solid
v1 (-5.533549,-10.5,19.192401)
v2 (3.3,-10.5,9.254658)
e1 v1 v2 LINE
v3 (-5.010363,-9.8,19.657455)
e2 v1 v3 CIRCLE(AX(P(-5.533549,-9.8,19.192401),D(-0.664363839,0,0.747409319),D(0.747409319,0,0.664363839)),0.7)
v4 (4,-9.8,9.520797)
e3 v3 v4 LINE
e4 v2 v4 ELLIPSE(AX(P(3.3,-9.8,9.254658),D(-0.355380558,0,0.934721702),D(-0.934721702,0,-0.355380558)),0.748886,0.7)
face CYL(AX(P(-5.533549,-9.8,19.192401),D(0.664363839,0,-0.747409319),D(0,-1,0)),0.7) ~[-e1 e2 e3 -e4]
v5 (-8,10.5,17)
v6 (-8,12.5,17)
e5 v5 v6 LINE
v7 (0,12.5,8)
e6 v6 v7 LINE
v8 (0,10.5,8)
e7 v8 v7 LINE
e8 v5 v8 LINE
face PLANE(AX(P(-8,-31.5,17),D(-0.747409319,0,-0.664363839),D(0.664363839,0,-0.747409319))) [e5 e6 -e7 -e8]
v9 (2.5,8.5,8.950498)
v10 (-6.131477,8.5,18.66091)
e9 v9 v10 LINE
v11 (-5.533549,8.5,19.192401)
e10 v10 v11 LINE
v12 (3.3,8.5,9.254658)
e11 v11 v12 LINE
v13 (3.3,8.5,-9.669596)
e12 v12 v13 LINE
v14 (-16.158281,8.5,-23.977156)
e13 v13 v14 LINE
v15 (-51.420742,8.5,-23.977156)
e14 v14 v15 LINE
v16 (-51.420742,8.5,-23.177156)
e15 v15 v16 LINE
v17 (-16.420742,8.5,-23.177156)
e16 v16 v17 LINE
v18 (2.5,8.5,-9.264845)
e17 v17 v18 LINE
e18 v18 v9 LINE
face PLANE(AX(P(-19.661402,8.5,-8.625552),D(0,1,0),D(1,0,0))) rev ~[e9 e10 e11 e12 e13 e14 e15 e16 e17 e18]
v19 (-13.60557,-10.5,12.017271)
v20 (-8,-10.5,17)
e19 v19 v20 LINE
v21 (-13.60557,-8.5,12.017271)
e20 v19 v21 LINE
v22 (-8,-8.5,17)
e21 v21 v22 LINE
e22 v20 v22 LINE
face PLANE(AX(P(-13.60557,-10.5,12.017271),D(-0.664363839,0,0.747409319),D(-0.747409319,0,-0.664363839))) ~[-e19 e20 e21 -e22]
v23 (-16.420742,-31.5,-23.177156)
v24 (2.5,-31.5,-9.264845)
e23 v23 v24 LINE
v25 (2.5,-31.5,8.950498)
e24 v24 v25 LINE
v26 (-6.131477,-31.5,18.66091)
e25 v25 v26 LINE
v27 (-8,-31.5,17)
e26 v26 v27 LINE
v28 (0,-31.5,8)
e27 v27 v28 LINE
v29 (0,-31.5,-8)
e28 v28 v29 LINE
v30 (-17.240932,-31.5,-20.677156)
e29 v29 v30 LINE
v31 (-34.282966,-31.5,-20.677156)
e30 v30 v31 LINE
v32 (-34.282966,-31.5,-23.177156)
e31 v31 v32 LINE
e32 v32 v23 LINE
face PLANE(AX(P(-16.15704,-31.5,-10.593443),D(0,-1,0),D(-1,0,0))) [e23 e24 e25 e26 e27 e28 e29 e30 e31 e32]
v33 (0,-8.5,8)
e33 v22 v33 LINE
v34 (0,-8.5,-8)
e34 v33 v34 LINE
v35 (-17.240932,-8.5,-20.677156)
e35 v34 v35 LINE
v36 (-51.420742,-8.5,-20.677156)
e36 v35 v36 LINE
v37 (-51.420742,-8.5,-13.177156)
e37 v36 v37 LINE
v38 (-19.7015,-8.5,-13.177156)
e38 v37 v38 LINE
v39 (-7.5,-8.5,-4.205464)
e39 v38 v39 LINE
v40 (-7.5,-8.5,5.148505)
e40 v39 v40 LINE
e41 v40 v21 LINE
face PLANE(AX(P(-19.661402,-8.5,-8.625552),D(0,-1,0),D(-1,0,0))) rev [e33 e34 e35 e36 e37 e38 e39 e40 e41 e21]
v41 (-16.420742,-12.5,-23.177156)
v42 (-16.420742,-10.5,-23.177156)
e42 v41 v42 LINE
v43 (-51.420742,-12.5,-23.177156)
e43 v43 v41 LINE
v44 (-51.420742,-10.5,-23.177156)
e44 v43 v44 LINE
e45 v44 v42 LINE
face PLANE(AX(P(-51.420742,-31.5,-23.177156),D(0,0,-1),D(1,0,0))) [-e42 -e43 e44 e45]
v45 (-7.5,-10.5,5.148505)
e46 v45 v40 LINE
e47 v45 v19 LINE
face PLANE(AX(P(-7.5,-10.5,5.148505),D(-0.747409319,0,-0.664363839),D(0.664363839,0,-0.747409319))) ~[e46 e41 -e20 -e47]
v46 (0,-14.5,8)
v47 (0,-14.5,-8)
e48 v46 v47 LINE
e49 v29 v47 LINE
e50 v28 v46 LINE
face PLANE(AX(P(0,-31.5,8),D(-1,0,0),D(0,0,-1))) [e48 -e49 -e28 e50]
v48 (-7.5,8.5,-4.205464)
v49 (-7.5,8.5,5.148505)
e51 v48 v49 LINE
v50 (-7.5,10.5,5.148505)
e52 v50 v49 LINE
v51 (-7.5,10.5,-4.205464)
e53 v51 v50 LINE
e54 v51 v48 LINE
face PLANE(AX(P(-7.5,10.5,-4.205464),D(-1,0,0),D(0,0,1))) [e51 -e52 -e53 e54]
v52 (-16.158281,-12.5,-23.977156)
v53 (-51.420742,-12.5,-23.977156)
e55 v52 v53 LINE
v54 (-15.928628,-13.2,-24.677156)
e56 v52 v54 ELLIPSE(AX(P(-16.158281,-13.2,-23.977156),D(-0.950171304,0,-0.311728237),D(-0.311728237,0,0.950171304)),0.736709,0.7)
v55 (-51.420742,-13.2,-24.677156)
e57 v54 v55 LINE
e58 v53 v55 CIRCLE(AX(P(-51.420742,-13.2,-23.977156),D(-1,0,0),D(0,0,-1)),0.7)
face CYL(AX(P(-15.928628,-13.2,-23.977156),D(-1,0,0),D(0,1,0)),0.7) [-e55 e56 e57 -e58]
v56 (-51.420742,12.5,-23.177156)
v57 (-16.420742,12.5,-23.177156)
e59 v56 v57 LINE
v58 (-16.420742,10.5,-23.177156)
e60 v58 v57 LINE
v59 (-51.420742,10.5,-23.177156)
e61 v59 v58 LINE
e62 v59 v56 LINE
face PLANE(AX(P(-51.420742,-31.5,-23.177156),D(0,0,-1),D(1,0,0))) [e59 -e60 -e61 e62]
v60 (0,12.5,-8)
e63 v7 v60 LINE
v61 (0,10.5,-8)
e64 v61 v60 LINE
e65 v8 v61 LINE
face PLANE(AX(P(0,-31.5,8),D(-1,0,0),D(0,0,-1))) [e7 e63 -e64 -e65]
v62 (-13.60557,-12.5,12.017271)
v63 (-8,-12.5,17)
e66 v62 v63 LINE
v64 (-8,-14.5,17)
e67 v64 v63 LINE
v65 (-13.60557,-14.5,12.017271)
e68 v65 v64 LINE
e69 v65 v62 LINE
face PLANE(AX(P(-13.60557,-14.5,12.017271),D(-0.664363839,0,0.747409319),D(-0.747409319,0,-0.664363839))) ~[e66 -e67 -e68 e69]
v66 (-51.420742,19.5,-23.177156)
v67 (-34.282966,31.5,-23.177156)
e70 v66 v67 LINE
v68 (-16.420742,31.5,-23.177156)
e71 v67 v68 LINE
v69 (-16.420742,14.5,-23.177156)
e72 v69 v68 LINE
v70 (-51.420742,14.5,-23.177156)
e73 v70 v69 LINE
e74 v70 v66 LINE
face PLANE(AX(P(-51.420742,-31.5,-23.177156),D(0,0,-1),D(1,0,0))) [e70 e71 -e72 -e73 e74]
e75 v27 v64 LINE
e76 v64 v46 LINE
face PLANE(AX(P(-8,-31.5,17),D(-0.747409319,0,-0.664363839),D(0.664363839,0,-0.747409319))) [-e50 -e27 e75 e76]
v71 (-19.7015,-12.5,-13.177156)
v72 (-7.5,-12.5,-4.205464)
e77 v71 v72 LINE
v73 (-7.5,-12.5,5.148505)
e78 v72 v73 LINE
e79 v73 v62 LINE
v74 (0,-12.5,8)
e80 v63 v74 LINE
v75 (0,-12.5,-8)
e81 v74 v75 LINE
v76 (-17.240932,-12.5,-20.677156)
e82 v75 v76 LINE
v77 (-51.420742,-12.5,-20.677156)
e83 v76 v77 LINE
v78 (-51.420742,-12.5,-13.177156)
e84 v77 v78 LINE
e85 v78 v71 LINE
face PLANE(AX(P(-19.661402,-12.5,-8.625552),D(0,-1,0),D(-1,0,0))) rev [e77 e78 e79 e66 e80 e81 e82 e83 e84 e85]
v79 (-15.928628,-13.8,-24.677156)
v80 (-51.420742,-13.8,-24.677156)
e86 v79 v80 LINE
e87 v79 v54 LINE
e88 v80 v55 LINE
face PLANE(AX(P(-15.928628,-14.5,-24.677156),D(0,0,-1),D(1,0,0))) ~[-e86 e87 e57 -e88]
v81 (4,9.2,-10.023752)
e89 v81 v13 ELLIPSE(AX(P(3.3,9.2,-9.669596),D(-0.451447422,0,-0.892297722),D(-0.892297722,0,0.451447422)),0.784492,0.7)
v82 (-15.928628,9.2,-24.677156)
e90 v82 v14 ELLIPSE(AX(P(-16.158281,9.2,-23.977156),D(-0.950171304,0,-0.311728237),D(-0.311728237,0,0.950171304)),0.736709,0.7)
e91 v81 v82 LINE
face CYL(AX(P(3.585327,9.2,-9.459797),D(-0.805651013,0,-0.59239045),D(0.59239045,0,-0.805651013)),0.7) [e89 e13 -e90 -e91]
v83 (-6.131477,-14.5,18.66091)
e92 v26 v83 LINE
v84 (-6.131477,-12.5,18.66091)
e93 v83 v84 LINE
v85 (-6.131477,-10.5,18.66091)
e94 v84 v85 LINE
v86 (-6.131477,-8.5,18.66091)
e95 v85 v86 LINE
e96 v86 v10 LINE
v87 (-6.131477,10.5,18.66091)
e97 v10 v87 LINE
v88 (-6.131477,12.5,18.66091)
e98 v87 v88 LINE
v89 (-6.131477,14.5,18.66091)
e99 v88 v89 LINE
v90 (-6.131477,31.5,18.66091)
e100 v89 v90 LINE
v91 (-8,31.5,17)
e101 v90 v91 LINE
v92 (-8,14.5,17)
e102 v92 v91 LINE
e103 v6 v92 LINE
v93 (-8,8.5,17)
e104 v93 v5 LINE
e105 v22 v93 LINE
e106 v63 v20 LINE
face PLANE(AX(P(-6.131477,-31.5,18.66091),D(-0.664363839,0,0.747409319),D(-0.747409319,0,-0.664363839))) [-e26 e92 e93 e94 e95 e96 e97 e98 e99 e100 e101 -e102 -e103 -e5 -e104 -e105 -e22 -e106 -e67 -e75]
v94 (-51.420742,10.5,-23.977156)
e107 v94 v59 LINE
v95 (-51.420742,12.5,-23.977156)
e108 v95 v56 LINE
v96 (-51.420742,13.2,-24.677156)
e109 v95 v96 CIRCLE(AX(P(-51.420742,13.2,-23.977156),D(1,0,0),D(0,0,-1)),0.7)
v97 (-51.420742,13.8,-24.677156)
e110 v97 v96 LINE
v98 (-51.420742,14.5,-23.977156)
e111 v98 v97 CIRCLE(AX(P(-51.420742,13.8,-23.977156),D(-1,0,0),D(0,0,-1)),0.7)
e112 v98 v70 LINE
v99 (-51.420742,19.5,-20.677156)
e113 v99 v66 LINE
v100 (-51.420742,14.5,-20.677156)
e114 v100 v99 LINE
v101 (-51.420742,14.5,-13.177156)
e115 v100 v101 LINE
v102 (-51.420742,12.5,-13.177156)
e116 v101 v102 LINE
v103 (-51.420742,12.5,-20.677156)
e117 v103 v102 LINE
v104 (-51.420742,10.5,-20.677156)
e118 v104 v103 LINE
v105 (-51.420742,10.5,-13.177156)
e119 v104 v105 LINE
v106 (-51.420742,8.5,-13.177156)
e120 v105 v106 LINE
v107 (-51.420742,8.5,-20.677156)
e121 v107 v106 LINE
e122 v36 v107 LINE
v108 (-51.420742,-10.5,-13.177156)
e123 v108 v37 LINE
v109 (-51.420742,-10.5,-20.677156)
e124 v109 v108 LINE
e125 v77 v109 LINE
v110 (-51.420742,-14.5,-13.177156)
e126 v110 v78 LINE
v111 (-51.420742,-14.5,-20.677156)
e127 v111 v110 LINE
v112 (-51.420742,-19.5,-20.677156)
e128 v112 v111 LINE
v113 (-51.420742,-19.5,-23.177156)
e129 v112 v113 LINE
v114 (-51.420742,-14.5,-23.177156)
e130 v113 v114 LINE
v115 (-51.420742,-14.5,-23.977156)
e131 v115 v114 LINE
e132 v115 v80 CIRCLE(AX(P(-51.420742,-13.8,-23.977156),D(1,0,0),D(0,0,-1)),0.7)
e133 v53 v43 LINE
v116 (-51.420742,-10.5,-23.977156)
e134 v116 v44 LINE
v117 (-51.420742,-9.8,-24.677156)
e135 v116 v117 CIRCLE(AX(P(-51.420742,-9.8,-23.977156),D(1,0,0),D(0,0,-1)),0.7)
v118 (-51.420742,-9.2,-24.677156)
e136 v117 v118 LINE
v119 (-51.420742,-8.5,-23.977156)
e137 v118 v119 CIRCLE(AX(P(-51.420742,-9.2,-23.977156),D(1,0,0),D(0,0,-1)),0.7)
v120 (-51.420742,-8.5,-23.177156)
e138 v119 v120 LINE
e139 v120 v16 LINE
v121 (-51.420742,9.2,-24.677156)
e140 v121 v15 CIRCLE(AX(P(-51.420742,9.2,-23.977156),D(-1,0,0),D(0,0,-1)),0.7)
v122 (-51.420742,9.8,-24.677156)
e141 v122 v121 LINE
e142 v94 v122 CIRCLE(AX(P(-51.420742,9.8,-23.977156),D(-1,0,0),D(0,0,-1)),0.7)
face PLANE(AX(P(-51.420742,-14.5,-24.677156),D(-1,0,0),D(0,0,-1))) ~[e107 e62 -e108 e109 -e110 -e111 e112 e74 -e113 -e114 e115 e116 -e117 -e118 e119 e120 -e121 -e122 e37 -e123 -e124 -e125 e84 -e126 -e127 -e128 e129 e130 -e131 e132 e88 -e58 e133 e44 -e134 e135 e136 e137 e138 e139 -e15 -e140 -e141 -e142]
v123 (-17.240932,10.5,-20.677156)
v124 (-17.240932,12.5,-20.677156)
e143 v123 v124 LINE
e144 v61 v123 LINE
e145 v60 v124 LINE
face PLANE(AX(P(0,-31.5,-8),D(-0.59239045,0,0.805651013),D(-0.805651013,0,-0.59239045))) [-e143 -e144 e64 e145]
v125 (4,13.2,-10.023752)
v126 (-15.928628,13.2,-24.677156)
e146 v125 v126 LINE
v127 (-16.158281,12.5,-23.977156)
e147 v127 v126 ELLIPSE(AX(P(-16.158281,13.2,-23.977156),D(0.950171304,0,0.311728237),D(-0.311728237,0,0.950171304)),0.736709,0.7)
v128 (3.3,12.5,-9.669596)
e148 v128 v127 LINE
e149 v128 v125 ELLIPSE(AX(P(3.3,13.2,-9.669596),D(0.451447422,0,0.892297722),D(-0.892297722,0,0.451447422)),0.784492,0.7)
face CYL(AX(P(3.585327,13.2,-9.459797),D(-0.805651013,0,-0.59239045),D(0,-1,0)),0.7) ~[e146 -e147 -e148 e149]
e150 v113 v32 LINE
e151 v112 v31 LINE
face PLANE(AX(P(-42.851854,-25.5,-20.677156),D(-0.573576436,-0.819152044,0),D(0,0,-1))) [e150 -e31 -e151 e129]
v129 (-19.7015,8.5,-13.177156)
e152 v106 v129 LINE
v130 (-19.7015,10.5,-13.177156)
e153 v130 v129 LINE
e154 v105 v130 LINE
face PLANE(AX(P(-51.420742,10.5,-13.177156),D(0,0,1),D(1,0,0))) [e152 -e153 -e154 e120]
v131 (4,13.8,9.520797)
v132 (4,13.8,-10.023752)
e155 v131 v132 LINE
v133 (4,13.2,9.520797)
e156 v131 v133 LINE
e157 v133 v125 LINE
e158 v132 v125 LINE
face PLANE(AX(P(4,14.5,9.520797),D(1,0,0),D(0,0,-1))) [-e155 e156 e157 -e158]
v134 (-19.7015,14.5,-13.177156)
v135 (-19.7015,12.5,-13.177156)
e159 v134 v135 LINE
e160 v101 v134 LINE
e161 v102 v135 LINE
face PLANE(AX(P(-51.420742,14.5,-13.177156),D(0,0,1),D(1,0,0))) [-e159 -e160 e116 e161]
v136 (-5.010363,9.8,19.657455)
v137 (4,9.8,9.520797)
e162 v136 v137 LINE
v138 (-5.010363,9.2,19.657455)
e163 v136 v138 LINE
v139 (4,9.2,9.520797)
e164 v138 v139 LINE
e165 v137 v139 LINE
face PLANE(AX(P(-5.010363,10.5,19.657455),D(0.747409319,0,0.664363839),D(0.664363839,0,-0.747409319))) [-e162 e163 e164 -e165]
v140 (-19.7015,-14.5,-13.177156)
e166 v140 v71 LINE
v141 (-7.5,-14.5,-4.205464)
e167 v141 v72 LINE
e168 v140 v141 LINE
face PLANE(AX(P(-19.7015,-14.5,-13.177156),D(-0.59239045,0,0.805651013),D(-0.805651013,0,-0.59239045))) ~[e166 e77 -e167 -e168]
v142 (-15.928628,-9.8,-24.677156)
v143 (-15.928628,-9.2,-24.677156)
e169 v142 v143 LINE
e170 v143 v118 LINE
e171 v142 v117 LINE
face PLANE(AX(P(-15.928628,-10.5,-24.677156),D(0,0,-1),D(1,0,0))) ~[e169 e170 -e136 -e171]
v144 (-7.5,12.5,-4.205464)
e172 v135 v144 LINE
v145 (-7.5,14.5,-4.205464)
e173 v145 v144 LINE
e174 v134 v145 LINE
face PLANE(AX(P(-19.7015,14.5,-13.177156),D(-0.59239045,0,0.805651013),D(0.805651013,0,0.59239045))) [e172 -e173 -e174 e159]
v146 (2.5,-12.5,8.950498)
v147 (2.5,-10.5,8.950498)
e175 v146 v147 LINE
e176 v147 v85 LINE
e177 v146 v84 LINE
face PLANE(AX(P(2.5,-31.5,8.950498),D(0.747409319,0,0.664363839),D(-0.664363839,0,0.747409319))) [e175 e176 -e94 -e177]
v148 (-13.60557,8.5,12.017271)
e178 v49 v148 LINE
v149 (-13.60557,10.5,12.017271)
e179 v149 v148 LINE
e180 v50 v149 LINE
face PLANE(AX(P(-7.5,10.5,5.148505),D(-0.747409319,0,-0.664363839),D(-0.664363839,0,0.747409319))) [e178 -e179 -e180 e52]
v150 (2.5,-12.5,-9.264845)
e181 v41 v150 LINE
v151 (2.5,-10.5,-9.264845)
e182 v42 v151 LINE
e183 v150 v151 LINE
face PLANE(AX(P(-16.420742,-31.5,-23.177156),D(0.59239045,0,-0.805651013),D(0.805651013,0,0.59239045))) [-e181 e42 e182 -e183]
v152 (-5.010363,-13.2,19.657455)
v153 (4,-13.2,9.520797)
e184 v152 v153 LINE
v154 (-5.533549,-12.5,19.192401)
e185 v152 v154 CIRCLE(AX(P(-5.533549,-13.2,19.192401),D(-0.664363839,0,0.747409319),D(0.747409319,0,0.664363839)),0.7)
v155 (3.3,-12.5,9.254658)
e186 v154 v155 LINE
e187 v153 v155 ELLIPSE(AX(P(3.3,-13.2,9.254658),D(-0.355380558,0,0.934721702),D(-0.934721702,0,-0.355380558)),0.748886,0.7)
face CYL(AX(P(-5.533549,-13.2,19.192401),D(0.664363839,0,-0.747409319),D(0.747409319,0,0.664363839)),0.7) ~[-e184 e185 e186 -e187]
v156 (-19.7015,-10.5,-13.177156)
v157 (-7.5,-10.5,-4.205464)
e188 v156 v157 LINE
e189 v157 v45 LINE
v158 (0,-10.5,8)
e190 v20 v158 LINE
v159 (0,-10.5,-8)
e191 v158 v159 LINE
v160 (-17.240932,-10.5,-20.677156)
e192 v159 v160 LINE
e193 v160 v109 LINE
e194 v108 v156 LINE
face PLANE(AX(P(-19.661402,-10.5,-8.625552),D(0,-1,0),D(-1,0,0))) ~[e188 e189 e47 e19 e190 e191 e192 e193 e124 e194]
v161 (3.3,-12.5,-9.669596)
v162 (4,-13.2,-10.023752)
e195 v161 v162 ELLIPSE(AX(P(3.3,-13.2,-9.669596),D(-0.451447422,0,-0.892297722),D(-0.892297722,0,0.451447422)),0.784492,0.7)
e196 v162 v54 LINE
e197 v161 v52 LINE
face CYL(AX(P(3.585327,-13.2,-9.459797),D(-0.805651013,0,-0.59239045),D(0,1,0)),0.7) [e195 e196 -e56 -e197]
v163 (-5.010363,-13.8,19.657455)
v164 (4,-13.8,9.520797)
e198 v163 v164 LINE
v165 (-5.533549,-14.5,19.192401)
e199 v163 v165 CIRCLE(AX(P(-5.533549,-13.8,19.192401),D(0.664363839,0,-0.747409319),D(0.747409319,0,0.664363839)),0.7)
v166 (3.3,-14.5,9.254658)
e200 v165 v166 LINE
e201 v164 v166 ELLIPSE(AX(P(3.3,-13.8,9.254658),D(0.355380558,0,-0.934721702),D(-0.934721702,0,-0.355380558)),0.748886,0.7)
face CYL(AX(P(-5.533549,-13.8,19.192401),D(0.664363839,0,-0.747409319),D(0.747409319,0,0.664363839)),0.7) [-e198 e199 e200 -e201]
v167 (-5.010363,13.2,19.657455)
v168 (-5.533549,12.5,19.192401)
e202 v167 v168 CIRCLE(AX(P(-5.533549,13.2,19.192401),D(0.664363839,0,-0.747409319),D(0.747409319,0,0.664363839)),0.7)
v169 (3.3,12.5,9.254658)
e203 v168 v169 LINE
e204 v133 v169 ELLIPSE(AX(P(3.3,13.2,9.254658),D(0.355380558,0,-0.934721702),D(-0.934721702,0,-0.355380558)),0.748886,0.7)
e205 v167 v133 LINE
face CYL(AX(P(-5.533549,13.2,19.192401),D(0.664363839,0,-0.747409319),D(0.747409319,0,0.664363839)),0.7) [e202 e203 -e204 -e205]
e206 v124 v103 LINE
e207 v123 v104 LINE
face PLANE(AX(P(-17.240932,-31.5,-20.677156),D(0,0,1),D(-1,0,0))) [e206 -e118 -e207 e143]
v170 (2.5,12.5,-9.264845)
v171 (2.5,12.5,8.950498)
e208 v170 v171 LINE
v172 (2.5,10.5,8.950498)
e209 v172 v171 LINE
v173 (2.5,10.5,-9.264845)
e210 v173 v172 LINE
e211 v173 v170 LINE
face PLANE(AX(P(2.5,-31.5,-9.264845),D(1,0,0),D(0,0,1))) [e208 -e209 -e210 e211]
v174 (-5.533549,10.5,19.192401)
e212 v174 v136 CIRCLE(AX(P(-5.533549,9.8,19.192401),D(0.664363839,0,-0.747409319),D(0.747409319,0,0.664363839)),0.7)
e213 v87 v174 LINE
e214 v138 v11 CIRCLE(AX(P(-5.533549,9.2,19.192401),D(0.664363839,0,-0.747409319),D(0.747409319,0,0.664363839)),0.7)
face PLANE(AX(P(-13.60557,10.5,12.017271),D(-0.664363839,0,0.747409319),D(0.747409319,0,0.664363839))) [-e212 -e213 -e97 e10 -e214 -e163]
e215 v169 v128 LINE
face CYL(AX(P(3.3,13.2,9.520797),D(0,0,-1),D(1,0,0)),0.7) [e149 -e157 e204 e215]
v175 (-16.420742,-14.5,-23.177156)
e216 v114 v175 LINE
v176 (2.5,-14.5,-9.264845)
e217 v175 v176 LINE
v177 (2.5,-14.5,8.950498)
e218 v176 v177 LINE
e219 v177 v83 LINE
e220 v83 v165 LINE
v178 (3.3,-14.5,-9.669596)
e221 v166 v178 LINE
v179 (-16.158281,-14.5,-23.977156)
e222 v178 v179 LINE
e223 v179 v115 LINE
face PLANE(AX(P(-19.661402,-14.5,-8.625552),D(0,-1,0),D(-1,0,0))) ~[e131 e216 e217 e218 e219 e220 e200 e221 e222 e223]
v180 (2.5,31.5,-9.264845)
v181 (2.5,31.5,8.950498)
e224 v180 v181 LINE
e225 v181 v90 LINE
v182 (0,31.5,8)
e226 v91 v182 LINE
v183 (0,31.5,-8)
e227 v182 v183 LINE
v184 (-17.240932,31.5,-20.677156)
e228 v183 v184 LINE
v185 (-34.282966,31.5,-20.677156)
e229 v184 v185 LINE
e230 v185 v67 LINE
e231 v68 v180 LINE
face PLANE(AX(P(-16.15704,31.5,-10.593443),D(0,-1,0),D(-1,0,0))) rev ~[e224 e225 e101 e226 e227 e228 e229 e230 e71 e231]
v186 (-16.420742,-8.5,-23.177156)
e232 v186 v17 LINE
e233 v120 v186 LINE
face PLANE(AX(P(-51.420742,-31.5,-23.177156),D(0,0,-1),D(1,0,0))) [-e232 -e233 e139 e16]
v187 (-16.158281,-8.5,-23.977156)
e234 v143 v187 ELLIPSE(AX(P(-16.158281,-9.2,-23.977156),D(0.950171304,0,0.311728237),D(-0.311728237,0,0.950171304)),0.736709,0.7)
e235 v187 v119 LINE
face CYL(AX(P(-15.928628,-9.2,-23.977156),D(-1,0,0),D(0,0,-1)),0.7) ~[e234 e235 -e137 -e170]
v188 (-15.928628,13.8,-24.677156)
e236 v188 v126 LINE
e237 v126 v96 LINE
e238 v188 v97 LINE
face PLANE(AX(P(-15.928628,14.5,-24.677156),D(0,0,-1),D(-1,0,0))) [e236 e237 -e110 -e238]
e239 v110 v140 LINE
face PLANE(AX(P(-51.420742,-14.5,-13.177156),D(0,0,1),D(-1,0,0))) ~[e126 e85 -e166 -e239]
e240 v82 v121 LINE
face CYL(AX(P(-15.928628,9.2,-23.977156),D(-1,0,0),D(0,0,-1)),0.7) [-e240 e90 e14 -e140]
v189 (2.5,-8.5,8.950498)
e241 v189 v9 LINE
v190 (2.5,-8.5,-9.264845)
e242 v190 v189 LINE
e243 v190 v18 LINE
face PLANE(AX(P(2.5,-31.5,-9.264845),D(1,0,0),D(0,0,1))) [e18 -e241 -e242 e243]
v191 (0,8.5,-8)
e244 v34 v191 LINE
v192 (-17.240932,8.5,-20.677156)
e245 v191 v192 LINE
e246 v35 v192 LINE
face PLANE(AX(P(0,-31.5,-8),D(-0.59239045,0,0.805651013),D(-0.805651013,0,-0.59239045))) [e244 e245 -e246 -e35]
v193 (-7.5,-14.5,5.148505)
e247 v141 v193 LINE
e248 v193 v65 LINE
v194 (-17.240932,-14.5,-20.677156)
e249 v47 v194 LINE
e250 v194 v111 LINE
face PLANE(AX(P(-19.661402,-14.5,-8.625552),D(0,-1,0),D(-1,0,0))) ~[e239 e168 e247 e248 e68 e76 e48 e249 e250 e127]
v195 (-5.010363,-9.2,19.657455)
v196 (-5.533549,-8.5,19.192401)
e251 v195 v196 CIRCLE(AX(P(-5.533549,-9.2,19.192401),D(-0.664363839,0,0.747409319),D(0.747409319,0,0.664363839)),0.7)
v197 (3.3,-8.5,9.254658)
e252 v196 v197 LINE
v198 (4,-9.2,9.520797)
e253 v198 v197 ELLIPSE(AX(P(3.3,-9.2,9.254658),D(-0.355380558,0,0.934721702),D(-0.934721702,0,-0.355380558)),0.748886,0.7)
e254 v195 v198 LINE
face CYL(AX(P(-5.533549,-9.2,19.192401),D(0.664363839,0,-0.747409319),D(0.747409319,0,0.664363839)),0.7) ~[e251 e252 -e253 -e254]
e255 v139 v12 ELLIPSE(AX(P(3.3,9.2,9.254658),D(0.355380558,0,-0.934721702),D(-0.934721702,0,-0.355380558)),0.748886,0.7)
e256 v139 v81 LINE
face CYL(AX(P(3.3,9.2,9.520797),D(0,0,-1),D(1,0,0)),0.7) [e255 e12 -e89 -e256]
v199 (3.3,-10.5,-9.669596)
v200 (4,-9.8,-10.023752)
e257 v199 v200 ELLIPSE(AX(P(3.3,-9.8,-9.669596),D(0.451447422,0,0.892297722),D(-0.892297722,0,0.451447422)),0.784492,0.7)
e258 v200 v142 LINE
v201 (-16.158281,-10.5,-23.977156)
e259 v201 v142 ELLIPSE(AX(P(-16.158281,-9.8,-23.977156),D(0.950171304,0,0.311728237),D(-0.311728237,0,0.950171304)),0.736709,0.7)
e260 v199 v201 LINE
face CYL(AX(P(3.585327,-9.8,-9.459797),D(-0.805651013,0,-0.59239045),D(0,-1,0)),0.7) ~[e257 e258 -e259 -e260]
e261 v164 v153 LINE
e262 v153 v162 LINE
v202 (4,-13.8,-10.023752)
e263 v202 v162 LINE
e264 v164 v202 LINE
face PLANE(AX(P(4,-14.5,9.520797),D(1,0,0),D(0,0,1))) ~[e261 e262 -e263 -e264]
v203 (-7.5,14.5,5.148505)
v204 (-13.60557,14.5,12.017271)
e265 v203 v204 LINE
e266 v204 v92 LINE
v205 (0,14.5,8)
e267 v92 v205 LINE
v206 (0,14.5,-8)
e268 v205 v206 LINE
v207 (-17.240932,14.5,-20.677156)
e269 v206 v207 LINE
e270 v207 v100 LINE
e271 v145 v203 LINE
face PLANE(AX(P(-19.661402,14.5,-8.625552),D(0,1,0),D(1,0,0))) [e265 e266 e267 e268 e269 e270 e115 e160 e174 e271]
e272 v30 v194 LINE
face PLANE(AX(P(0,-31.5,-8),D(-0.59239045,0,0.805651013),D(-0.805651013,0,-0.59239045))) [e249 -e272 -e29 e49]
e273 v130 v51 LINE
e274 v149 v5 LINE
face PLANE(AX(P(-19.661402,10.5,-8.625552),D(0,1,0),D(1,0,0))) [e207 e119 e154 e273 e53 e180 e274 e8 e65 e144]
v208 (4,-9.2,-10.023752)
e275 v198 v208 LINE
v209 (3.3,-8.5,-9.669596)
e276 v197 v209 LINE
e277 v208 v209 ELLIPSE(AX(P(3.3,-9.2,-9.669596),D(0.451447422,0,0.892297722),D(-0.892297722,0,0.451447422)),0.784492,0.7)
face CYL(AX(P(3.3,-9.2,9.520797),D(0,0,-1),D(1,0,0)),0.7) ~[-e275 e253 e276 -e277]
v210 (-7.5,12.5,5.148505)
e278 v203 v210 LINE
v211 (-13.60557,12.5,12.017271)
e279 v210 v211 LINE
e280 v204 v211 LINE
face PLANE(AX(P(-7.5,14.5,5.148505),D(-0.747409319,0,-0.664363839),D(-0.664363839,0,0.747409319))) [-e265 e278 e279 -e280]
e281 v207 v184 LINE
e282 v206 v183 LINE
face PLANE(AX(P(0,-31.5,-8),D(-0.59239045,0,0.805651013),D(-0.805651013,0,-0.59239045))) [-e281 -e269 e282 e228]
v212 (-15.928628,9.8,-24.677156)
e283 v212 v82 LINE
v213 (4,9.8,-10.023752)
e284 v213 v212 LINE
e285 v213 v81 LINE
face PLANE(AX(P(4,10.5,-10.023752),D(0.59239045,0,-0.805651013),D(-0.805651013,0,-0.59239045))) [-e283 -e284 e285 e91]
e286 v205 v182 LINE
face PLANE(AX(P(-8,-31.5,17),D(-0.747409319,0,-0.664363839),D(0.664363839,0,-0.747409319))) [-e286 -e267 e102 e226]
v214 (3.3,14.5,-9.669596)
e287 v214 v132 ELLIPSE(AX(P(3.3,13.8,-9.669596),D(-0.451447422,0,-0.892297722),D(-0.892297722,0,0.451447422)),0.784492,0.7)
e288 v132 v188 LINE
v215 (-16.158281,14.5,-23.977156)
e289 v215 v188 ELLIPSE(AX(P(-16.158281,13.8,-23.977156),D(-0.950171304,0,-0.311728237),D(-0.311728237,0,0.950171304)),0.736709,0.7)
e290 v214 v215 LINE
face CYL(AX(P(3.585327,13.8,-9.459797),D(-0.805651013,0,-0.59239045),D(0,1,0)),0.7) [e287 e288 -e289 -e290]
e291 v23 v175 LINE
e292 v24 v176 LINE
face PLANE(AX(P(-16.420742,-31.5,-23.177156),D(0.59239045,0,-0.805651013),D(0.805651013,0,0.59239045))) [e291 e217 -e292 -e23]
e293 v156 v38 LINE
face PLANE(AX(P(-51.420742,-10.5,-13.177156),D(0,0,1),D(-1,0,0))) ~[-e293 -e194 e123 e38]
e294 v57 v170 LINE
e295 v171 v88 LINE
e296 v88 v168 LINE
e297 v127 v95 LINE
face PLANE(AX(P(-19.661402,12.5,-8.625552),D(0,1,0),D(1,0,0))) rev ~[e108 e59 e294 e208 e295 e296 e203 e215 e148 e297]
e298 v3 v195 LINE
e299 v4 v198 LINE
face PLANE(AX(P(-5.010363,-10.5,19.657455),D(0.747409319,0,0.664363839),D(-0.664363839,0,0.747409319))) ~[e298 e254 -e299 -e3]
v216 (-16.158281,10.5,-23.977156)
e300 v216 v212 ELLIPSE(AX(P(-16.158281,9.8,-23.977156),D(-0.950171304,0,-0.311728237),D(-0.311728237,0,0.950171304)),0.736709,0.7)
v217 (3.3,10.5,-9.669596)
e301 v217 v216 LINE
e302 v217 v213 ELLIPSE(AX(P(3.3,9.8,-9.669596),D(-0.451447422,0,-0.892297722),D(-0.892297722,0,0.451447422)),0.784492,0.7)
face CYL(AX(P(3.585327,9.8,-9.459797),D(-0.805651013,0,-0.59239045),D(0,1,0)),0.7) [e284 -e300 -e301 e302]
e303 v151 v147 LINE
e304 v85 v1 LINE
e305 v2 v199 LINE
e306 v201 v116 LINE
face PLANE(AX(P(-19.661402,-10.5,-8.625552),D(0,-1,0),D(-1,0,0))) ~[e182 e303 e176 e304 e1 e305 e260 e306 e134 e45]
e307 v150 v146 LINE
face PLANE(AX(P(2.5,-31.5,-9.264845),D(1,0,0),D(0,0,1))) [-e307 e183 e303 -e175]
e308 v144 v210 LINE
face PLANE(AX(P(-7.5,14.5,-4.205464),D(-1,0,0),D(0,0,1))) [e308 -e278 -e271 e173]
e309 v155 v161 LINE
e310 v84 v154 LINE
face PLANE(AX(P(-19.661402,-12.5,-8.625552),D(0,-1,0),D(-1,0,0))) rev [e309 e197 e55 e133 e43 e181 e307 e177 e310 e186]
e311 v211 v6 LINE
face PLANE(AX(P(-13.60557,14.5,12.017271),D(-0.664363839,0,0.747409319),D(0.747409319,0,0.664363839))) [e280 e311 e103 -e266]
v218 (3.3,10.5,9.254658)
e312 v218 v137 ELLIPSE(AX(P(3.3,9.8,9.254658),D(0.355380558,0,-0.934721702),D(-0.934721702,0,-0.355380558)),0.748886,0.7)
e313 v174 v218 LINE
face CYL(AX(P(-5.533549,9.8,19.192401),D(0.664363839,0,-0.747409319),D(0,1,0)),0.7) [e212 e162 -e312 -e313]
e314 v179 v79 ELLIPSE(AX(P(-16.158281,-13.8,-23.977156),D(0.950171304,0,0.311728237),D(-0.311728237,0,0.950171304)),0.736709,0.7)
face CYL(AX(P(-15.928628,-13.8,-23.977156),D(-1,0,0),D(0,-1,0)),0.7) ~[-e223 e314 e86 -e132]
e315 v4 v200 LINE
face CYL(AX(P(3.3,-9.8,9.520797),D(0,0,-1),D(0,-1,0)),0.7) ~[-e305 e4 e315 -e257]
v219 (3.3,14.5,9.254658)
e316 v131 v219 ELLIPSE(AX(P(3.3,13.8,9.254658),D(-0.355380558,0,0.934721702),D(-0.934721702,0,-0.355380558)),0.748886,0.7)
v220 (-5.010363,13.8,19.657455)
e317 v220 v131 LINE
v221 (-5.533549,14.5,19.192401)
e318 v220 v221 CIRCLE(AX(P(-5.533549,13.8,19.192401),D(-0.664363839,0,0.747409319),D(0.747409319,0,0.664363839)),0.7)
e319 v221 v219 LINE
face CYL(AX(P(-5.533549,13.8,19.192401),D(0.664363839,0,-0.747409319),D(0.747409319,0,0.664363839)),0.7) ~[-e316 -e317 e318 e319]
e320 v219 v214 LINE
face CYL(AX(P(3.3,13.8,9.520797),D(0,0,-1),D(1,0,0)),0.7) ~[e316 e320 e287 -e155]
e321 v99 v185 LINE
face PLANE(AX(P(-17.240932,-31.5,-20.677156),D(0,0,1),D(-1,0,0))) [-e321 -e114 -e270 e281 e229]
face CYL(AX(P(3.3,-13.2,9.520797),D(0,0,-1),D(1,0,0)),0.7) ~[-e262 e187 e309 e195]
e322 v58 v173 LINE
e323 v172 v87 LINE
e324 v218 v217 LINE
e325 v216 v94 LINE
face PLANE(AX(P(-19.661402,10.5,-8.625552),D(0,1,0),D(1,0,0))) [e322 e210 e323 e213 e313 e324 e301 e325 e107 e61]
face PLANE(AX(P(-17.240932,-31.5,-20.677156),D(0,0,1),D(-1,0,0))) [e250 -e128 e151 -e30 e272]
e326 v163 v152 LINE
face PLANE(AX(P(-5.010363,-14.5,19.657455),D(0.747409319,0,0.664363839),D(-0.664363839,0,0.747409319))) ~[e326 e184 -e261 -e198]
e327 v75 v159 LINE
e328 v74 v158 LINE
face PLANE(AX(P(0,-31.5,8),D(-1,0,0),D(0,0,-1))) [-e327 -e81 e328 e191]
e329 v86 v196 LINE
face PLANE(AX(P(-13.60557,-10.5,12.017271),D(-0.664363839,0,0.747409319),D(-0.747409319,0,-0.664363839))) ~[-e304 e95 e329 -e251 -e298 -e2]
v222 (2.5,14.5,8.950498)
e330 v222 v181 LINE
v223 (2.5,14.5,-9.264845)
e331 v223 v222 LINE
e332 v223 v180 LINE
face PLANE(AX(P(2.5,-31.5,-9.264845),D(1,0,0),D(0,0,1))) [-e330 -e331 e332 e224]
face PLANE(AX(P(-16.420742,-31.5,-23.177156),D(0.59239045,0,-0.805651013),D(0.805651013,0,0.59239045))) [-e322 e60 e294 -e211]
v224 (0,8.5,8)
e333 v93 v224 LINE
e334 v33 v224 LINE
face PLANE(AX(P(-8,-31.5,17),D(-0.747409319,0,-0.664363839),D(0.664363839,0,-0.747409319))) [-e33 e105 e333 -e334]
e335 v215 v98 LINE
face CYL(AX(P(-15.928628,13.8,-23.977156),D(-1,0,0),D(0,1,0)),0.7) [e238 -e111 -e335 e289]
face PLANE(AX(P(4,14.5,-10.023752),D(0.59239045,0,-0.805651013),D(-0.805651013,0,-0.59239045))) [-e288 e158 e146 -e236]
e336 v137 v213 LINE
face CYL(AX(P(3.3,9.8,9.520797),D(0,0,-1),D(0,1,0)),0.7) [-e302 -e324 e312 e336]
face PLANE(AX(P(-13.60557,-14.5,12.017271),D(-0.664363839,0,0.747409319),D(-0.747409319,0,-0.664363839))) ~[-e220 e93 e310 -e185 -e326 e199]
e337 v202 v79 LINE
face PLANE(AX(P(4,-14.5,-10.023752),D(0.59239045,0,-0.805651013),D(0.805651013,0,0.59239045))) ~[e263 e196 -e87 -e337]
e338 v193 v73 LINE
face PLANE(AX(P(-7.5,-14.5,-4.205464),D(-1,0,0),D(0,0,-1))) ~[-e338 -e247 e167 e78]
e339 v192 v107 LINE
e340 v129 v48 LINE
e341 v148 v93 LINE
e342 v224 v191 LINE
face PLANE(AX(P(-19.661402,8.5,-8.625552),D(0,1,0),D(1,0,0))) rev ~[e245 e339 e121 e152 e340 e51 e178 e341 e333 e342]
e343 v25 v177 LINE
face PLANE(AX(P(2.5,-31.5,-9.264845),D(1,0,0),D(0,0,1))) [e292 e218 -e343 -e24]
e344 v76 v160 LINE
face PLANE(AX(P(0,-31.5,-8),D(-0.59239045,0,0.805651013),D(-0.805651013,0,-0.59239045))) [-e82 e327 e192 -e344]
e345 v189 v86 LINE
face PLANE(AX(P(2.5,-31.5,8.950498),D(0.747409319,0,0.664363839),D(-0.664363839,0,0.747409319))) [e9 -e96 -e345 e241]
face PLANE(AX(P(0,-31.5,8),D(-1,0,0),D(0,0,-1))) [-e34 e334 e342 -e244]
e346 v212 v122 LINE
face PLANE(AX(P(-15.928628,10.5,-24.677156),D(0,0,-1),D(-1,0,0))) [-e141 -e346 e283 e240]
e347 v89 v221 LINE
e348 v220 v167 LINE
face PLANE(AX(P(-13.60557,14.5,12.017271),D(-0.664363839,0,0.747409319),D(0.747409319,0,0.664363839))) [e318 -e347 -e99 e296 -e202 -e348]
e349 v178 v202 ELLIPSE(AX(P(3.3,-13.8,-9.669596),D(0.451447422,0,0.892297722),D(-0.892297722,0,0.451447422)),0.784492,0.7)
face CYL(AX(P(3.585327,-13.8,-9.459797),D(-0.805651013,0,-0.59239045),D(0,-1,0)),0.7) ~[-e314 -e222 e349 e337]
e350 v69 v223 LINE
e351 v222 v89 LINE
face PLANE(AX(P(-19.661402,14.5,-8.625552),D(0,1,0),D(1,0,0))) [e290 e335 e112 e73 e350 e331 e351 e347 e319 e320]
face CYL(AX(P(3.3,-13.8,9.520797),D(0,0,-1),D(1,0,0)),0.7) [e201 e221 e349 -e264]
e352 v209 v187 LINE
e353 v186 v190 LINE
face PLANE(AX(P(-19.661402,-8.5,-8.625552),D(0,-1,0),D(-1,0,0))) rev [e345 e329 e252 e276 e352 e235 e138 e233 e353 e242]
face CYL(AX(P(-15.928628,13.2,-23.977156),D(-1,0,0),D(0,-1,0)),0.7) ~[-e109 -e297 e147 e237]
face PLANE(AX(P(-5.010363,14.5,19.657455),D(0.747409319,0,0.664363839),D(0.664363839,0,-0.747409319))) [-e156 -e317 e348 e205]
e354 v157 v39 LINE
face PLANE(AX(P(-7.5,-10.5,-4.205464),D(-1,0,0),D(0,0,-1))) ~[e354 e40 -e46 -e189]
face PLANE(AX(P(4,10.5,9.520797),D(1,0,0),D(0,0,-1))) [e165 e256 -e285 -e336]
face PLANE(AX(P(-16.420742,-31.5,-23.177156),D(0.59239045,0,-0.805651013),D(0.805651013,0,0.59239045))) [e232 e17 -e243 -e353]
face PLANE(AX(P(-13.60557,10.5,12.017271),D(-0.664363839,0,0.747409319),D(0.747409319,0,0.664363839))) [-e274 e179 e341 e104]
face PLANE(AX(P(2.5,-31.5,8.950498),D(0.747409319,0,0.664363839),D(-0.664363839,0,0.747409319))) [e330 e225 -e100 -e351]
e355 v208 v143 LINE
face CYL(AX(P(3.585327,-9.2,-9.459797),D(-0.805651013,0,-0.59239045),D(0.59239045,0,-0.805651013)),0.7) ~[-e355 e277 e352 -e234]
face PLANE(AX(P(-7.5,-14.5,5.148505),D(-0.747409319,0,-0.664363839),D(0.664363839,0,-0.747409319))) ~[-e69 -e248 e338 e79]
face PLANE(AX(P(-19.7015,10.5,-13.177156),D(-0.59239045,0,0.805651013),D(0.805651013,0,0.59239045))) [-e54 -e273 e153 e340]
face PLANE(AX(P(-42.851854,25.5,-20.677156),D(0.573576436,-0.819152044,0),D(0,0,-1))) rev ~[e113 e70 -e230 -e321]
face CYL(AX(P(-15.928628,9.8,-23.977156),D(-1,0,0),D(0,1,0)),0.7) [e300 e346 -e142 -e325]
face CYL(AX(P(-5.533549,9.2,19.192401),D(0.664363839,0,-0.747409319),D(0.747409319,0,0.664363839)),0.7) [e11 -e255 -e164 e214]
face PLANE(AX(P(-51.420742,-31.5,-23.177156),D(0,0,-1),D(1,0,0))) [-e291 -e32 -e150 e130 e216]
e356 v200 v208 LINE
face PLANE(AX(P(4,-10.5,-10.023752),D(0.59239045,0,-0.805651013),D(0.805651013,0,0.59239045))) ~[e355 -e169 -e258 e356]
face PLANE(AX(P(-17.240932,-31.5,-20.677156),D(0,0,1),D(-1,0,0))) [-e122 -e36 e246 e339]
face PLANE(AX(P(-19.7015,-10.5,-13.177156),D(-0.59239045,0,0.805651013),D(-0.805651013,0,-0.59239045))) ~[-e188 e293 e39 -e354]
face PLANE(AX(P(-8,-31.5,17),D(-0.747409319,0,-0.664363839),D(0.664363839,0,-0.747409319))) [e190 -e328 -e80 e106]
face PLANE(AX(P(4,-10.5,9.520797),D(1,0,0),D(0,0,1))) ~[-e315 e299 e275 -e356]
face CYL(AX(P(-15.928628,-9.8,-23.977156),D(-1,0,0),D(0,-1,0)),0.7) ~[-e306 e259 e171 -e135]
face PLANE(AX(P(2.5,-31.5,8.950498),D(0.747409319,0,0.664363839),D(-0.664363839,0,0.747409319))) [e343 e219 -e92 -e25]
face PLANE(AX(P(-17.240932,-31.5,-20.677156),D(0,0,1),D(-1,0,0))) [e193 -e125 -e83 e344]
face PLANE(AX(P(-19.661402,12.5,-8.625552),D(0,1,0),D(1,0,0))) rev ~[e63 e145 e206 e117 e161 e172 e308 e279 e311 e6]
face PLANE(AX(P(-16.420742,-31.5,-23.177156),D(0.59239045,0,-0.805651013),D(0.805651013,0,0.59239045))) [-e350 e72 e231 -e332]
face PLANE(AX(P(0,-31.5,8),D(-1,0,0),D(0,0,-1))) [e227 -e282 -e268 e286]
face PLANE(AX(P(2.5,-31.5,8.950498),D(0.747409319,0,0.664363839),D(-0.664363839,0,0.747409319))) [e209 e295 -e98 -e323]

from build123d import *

# Parameters (mm, degrees)
EXTRUDE_1_DEPTH        = 31.5
EXTRUDE_1_DEPTH_BACK   = 31.5
CHAMFER_1_SIZE         = 12
CHAMFER_1_SIZE2        = 17.137776081
EXTRUDE_1_2_DEPTH      = 2
EXTRUDE_2_DEPTH        = 2
FILLET_1_R             = 0.7
FILLET_1_OF_MIRROR_1_R = 0.7


with BuildPart() as part:
    # 草图1 → Extrude 1 (new, two sides: drawn at the far end of the back side and taken through both)
    with BuildSketch(Plane(origin=(0, 0, 0), x_dir=(1, 0, 0), z_dir=(0, 1, 0)).offset(-EXTRUDE_1_DEPTH_BACK)):
        Polygon((0, -8), (0, 8), (-17.240931671, 20.67715564), (-51.420742101, 20.67715564), (-51.420742101, 23.17715564), (-16.420742101, 23.17715564), (2.5, 9.264845271), (2.5, -8.950498306), (-6.131476703, -18.660909597), (-8, -17), align=None)
    extrude(amount=EXTRUDE_1_DEPTH + EXTRUDE_1_DEPTH_BACK)

    # 倒角1
    chamfer_1_edges = [part.edges().sort_by_distance(p)[0] for p in [
        (-51.420742101, -31.5, -21.92715564),
        (-51.420742101, 31.5, -21.92715564),
    ]]
    chamfer_1_side = [part.faces().sort_by_distance(p)[0] for p in [
        (-51.420742101, 0, -21.92715564),
    ]]
    chamfer(chamfer_1_edges, length=CHAMFER_1_SIZE, length2=CHAMFER_1_SIZE2, reference=chamfer_1_side[0])

    # 草图4 → Extrude 1 2 (add)
    with BuildSketch(Plane(origin=(0, 10.5, 0), x_dir=(1, 0, 0), z_dir=(0, 1, 0))):
        Polygon((-6.131476703, -18.660909597), (2.5, -8.950498306), (2.5, 9.264845271), (-16.420742101, 23.17715564), (-34.282966021, 23.17715564), (-51.420742101, 23.17715564), (-51.420742101, 13.17715564), (-34.282966021, 13.17715564), (-19.701500378, 13.17715564), (-7.5, 4.205464186), (-7.5, -5.148505082), (-13.60556989, -12.017271209), align=None)
        Polygon((-5.010362725, -19.657455355), (4, -9.520797289), (4, 10.023752434), (-15.92862836, 24.67715564), (-34.282966021, 24.67715564), (-51.420742101, 24.67715564), (-51.420742101, 14.67715564), (-34.282966021, 14.67715564), (-19.209386637, 14.67715564), (-6, 4.964371348), (-6, -5.718804066), (-12.484455912, -13.013816967), align=None)
    extrude_1_2 = extrude(amount=-EXTRUDE_1_2_DEPTH)

    # 草图5 → 拉伸-薄壁2 (add)
    with BuildSketch(Plane(origin=(0, 14.5, 0), x_dir=(1, 0, 0), z_dir=(0, 1, 0))):
        Polygon((-6.131476703, -18.660909597), (2.5, -8.950498306), (2.5, 9.264845271), (-16.420742101, 23.17715564), (-34.282966021, 23.17715564), (-51.420742101, 23.17715564), (-51.420742101, 13.17715564), (-34.282966021, 13.17715564), (-19.701500378, 13.17715564), (-7.5, 4.205464186), (-7.5, -5.148505082), (-13.60556989, -12.017271209), align=None)
        Polygon((-5.010362725, -19.657455355), (4, -9.520797289), (4, 10.023752434), (-15.92862836, 24.67715564), (-34.282966021, 24.67715564), (-51.420742101, 24.67715564), (-51.420742101, 14.67715564), (-34.282966021, 14.67715564), (-19.209386637, 14.67715564), (-6, 4.964371348), (-6, -5.718804066), (-12.484455912, -13.013816967), align=None)
    extrude_2 = extrude(amount=-EXTRUDE_2_DEPTH)

    # 圆角1
    fillet_1_edges = [part.edges().sort_by_distance(p)[0] for p in [
        (-33.674685231, 12.5, -24.67715564),
        (-5.96431418, 12.5, -17.350454037),
        (4, 12.5, -0.251477572),
        (-0.505181363, 12.5, 14.589126322),
        (-33.674685231, 14.5, -24.67715564),
        (-5.96431418, 14.5, -17.350454037),
        (4, 14.5, -0.251477572),
        (-0.505181363, 14.5, 14.589126322),
        (-33.674685231, 8.5, -24.67715564),
        (-5.96431418, 8.5, -17.350454037),
        (4, 8.5, -0.251477572),
        (-0.505181363, 8.5, 14.589126322),
        (-33.674685231, 10.5, -24.67715564),
        (-5.96431418, 10.5, -17.350454037),
        (4, 10.5, -0.251477572),
        (-0.505181363, 10.5, 14.589126322),
    ]]
    fillet(fillet_1_edges, radius=FILLET_1_R)

    # 镜向1: Extrude 1 2, 拉伸-薄壁2 across plane
    add(extrude_1_2.mirror(Plane.ZX))
    add(extrude_2.mirror(Plane.ZX))

    # 圆角1 of 镜向1
    fillet_1_of_mirror_1_edges = [part.edges().sort_by_distance(p)[0] for p in [
        (-33.674685231, -12.5, -24.67715564),
        (-5.96431418, -12.5, -17.350454037),
        (4, -12.5, -0.251477572),
        (-0.505181363, -12.5, 14.589126322),
        (-33.674685231, -14.5, -24.67715564),
        (-5.96431418, -14.5, -17.350454037),
        (4, -14.5, -0.251477572),
        (-0.505181363, -14.5, 14.589126322),
        (-33.674685231, -8.5, -24.67715564),
        (-5.96431418, -8.5, -17.350454037),
        (4, -8.5, -0.251477572),
        (-0.505181363, -8.5, 14.589126322),
        (-33.674685231, -10.5, -24.67715564),
        (-5.96431418, -10.5, -17.350454037),
        (4, -10.5, -0.251477572),
        (-0.505181363, -10.5, 14.589126322),
    ]]
    fillet(fillet_1_of_mirror_1_edges, radius=FILLET_1_OF_MIRROR_1_R)


solid = part.part
